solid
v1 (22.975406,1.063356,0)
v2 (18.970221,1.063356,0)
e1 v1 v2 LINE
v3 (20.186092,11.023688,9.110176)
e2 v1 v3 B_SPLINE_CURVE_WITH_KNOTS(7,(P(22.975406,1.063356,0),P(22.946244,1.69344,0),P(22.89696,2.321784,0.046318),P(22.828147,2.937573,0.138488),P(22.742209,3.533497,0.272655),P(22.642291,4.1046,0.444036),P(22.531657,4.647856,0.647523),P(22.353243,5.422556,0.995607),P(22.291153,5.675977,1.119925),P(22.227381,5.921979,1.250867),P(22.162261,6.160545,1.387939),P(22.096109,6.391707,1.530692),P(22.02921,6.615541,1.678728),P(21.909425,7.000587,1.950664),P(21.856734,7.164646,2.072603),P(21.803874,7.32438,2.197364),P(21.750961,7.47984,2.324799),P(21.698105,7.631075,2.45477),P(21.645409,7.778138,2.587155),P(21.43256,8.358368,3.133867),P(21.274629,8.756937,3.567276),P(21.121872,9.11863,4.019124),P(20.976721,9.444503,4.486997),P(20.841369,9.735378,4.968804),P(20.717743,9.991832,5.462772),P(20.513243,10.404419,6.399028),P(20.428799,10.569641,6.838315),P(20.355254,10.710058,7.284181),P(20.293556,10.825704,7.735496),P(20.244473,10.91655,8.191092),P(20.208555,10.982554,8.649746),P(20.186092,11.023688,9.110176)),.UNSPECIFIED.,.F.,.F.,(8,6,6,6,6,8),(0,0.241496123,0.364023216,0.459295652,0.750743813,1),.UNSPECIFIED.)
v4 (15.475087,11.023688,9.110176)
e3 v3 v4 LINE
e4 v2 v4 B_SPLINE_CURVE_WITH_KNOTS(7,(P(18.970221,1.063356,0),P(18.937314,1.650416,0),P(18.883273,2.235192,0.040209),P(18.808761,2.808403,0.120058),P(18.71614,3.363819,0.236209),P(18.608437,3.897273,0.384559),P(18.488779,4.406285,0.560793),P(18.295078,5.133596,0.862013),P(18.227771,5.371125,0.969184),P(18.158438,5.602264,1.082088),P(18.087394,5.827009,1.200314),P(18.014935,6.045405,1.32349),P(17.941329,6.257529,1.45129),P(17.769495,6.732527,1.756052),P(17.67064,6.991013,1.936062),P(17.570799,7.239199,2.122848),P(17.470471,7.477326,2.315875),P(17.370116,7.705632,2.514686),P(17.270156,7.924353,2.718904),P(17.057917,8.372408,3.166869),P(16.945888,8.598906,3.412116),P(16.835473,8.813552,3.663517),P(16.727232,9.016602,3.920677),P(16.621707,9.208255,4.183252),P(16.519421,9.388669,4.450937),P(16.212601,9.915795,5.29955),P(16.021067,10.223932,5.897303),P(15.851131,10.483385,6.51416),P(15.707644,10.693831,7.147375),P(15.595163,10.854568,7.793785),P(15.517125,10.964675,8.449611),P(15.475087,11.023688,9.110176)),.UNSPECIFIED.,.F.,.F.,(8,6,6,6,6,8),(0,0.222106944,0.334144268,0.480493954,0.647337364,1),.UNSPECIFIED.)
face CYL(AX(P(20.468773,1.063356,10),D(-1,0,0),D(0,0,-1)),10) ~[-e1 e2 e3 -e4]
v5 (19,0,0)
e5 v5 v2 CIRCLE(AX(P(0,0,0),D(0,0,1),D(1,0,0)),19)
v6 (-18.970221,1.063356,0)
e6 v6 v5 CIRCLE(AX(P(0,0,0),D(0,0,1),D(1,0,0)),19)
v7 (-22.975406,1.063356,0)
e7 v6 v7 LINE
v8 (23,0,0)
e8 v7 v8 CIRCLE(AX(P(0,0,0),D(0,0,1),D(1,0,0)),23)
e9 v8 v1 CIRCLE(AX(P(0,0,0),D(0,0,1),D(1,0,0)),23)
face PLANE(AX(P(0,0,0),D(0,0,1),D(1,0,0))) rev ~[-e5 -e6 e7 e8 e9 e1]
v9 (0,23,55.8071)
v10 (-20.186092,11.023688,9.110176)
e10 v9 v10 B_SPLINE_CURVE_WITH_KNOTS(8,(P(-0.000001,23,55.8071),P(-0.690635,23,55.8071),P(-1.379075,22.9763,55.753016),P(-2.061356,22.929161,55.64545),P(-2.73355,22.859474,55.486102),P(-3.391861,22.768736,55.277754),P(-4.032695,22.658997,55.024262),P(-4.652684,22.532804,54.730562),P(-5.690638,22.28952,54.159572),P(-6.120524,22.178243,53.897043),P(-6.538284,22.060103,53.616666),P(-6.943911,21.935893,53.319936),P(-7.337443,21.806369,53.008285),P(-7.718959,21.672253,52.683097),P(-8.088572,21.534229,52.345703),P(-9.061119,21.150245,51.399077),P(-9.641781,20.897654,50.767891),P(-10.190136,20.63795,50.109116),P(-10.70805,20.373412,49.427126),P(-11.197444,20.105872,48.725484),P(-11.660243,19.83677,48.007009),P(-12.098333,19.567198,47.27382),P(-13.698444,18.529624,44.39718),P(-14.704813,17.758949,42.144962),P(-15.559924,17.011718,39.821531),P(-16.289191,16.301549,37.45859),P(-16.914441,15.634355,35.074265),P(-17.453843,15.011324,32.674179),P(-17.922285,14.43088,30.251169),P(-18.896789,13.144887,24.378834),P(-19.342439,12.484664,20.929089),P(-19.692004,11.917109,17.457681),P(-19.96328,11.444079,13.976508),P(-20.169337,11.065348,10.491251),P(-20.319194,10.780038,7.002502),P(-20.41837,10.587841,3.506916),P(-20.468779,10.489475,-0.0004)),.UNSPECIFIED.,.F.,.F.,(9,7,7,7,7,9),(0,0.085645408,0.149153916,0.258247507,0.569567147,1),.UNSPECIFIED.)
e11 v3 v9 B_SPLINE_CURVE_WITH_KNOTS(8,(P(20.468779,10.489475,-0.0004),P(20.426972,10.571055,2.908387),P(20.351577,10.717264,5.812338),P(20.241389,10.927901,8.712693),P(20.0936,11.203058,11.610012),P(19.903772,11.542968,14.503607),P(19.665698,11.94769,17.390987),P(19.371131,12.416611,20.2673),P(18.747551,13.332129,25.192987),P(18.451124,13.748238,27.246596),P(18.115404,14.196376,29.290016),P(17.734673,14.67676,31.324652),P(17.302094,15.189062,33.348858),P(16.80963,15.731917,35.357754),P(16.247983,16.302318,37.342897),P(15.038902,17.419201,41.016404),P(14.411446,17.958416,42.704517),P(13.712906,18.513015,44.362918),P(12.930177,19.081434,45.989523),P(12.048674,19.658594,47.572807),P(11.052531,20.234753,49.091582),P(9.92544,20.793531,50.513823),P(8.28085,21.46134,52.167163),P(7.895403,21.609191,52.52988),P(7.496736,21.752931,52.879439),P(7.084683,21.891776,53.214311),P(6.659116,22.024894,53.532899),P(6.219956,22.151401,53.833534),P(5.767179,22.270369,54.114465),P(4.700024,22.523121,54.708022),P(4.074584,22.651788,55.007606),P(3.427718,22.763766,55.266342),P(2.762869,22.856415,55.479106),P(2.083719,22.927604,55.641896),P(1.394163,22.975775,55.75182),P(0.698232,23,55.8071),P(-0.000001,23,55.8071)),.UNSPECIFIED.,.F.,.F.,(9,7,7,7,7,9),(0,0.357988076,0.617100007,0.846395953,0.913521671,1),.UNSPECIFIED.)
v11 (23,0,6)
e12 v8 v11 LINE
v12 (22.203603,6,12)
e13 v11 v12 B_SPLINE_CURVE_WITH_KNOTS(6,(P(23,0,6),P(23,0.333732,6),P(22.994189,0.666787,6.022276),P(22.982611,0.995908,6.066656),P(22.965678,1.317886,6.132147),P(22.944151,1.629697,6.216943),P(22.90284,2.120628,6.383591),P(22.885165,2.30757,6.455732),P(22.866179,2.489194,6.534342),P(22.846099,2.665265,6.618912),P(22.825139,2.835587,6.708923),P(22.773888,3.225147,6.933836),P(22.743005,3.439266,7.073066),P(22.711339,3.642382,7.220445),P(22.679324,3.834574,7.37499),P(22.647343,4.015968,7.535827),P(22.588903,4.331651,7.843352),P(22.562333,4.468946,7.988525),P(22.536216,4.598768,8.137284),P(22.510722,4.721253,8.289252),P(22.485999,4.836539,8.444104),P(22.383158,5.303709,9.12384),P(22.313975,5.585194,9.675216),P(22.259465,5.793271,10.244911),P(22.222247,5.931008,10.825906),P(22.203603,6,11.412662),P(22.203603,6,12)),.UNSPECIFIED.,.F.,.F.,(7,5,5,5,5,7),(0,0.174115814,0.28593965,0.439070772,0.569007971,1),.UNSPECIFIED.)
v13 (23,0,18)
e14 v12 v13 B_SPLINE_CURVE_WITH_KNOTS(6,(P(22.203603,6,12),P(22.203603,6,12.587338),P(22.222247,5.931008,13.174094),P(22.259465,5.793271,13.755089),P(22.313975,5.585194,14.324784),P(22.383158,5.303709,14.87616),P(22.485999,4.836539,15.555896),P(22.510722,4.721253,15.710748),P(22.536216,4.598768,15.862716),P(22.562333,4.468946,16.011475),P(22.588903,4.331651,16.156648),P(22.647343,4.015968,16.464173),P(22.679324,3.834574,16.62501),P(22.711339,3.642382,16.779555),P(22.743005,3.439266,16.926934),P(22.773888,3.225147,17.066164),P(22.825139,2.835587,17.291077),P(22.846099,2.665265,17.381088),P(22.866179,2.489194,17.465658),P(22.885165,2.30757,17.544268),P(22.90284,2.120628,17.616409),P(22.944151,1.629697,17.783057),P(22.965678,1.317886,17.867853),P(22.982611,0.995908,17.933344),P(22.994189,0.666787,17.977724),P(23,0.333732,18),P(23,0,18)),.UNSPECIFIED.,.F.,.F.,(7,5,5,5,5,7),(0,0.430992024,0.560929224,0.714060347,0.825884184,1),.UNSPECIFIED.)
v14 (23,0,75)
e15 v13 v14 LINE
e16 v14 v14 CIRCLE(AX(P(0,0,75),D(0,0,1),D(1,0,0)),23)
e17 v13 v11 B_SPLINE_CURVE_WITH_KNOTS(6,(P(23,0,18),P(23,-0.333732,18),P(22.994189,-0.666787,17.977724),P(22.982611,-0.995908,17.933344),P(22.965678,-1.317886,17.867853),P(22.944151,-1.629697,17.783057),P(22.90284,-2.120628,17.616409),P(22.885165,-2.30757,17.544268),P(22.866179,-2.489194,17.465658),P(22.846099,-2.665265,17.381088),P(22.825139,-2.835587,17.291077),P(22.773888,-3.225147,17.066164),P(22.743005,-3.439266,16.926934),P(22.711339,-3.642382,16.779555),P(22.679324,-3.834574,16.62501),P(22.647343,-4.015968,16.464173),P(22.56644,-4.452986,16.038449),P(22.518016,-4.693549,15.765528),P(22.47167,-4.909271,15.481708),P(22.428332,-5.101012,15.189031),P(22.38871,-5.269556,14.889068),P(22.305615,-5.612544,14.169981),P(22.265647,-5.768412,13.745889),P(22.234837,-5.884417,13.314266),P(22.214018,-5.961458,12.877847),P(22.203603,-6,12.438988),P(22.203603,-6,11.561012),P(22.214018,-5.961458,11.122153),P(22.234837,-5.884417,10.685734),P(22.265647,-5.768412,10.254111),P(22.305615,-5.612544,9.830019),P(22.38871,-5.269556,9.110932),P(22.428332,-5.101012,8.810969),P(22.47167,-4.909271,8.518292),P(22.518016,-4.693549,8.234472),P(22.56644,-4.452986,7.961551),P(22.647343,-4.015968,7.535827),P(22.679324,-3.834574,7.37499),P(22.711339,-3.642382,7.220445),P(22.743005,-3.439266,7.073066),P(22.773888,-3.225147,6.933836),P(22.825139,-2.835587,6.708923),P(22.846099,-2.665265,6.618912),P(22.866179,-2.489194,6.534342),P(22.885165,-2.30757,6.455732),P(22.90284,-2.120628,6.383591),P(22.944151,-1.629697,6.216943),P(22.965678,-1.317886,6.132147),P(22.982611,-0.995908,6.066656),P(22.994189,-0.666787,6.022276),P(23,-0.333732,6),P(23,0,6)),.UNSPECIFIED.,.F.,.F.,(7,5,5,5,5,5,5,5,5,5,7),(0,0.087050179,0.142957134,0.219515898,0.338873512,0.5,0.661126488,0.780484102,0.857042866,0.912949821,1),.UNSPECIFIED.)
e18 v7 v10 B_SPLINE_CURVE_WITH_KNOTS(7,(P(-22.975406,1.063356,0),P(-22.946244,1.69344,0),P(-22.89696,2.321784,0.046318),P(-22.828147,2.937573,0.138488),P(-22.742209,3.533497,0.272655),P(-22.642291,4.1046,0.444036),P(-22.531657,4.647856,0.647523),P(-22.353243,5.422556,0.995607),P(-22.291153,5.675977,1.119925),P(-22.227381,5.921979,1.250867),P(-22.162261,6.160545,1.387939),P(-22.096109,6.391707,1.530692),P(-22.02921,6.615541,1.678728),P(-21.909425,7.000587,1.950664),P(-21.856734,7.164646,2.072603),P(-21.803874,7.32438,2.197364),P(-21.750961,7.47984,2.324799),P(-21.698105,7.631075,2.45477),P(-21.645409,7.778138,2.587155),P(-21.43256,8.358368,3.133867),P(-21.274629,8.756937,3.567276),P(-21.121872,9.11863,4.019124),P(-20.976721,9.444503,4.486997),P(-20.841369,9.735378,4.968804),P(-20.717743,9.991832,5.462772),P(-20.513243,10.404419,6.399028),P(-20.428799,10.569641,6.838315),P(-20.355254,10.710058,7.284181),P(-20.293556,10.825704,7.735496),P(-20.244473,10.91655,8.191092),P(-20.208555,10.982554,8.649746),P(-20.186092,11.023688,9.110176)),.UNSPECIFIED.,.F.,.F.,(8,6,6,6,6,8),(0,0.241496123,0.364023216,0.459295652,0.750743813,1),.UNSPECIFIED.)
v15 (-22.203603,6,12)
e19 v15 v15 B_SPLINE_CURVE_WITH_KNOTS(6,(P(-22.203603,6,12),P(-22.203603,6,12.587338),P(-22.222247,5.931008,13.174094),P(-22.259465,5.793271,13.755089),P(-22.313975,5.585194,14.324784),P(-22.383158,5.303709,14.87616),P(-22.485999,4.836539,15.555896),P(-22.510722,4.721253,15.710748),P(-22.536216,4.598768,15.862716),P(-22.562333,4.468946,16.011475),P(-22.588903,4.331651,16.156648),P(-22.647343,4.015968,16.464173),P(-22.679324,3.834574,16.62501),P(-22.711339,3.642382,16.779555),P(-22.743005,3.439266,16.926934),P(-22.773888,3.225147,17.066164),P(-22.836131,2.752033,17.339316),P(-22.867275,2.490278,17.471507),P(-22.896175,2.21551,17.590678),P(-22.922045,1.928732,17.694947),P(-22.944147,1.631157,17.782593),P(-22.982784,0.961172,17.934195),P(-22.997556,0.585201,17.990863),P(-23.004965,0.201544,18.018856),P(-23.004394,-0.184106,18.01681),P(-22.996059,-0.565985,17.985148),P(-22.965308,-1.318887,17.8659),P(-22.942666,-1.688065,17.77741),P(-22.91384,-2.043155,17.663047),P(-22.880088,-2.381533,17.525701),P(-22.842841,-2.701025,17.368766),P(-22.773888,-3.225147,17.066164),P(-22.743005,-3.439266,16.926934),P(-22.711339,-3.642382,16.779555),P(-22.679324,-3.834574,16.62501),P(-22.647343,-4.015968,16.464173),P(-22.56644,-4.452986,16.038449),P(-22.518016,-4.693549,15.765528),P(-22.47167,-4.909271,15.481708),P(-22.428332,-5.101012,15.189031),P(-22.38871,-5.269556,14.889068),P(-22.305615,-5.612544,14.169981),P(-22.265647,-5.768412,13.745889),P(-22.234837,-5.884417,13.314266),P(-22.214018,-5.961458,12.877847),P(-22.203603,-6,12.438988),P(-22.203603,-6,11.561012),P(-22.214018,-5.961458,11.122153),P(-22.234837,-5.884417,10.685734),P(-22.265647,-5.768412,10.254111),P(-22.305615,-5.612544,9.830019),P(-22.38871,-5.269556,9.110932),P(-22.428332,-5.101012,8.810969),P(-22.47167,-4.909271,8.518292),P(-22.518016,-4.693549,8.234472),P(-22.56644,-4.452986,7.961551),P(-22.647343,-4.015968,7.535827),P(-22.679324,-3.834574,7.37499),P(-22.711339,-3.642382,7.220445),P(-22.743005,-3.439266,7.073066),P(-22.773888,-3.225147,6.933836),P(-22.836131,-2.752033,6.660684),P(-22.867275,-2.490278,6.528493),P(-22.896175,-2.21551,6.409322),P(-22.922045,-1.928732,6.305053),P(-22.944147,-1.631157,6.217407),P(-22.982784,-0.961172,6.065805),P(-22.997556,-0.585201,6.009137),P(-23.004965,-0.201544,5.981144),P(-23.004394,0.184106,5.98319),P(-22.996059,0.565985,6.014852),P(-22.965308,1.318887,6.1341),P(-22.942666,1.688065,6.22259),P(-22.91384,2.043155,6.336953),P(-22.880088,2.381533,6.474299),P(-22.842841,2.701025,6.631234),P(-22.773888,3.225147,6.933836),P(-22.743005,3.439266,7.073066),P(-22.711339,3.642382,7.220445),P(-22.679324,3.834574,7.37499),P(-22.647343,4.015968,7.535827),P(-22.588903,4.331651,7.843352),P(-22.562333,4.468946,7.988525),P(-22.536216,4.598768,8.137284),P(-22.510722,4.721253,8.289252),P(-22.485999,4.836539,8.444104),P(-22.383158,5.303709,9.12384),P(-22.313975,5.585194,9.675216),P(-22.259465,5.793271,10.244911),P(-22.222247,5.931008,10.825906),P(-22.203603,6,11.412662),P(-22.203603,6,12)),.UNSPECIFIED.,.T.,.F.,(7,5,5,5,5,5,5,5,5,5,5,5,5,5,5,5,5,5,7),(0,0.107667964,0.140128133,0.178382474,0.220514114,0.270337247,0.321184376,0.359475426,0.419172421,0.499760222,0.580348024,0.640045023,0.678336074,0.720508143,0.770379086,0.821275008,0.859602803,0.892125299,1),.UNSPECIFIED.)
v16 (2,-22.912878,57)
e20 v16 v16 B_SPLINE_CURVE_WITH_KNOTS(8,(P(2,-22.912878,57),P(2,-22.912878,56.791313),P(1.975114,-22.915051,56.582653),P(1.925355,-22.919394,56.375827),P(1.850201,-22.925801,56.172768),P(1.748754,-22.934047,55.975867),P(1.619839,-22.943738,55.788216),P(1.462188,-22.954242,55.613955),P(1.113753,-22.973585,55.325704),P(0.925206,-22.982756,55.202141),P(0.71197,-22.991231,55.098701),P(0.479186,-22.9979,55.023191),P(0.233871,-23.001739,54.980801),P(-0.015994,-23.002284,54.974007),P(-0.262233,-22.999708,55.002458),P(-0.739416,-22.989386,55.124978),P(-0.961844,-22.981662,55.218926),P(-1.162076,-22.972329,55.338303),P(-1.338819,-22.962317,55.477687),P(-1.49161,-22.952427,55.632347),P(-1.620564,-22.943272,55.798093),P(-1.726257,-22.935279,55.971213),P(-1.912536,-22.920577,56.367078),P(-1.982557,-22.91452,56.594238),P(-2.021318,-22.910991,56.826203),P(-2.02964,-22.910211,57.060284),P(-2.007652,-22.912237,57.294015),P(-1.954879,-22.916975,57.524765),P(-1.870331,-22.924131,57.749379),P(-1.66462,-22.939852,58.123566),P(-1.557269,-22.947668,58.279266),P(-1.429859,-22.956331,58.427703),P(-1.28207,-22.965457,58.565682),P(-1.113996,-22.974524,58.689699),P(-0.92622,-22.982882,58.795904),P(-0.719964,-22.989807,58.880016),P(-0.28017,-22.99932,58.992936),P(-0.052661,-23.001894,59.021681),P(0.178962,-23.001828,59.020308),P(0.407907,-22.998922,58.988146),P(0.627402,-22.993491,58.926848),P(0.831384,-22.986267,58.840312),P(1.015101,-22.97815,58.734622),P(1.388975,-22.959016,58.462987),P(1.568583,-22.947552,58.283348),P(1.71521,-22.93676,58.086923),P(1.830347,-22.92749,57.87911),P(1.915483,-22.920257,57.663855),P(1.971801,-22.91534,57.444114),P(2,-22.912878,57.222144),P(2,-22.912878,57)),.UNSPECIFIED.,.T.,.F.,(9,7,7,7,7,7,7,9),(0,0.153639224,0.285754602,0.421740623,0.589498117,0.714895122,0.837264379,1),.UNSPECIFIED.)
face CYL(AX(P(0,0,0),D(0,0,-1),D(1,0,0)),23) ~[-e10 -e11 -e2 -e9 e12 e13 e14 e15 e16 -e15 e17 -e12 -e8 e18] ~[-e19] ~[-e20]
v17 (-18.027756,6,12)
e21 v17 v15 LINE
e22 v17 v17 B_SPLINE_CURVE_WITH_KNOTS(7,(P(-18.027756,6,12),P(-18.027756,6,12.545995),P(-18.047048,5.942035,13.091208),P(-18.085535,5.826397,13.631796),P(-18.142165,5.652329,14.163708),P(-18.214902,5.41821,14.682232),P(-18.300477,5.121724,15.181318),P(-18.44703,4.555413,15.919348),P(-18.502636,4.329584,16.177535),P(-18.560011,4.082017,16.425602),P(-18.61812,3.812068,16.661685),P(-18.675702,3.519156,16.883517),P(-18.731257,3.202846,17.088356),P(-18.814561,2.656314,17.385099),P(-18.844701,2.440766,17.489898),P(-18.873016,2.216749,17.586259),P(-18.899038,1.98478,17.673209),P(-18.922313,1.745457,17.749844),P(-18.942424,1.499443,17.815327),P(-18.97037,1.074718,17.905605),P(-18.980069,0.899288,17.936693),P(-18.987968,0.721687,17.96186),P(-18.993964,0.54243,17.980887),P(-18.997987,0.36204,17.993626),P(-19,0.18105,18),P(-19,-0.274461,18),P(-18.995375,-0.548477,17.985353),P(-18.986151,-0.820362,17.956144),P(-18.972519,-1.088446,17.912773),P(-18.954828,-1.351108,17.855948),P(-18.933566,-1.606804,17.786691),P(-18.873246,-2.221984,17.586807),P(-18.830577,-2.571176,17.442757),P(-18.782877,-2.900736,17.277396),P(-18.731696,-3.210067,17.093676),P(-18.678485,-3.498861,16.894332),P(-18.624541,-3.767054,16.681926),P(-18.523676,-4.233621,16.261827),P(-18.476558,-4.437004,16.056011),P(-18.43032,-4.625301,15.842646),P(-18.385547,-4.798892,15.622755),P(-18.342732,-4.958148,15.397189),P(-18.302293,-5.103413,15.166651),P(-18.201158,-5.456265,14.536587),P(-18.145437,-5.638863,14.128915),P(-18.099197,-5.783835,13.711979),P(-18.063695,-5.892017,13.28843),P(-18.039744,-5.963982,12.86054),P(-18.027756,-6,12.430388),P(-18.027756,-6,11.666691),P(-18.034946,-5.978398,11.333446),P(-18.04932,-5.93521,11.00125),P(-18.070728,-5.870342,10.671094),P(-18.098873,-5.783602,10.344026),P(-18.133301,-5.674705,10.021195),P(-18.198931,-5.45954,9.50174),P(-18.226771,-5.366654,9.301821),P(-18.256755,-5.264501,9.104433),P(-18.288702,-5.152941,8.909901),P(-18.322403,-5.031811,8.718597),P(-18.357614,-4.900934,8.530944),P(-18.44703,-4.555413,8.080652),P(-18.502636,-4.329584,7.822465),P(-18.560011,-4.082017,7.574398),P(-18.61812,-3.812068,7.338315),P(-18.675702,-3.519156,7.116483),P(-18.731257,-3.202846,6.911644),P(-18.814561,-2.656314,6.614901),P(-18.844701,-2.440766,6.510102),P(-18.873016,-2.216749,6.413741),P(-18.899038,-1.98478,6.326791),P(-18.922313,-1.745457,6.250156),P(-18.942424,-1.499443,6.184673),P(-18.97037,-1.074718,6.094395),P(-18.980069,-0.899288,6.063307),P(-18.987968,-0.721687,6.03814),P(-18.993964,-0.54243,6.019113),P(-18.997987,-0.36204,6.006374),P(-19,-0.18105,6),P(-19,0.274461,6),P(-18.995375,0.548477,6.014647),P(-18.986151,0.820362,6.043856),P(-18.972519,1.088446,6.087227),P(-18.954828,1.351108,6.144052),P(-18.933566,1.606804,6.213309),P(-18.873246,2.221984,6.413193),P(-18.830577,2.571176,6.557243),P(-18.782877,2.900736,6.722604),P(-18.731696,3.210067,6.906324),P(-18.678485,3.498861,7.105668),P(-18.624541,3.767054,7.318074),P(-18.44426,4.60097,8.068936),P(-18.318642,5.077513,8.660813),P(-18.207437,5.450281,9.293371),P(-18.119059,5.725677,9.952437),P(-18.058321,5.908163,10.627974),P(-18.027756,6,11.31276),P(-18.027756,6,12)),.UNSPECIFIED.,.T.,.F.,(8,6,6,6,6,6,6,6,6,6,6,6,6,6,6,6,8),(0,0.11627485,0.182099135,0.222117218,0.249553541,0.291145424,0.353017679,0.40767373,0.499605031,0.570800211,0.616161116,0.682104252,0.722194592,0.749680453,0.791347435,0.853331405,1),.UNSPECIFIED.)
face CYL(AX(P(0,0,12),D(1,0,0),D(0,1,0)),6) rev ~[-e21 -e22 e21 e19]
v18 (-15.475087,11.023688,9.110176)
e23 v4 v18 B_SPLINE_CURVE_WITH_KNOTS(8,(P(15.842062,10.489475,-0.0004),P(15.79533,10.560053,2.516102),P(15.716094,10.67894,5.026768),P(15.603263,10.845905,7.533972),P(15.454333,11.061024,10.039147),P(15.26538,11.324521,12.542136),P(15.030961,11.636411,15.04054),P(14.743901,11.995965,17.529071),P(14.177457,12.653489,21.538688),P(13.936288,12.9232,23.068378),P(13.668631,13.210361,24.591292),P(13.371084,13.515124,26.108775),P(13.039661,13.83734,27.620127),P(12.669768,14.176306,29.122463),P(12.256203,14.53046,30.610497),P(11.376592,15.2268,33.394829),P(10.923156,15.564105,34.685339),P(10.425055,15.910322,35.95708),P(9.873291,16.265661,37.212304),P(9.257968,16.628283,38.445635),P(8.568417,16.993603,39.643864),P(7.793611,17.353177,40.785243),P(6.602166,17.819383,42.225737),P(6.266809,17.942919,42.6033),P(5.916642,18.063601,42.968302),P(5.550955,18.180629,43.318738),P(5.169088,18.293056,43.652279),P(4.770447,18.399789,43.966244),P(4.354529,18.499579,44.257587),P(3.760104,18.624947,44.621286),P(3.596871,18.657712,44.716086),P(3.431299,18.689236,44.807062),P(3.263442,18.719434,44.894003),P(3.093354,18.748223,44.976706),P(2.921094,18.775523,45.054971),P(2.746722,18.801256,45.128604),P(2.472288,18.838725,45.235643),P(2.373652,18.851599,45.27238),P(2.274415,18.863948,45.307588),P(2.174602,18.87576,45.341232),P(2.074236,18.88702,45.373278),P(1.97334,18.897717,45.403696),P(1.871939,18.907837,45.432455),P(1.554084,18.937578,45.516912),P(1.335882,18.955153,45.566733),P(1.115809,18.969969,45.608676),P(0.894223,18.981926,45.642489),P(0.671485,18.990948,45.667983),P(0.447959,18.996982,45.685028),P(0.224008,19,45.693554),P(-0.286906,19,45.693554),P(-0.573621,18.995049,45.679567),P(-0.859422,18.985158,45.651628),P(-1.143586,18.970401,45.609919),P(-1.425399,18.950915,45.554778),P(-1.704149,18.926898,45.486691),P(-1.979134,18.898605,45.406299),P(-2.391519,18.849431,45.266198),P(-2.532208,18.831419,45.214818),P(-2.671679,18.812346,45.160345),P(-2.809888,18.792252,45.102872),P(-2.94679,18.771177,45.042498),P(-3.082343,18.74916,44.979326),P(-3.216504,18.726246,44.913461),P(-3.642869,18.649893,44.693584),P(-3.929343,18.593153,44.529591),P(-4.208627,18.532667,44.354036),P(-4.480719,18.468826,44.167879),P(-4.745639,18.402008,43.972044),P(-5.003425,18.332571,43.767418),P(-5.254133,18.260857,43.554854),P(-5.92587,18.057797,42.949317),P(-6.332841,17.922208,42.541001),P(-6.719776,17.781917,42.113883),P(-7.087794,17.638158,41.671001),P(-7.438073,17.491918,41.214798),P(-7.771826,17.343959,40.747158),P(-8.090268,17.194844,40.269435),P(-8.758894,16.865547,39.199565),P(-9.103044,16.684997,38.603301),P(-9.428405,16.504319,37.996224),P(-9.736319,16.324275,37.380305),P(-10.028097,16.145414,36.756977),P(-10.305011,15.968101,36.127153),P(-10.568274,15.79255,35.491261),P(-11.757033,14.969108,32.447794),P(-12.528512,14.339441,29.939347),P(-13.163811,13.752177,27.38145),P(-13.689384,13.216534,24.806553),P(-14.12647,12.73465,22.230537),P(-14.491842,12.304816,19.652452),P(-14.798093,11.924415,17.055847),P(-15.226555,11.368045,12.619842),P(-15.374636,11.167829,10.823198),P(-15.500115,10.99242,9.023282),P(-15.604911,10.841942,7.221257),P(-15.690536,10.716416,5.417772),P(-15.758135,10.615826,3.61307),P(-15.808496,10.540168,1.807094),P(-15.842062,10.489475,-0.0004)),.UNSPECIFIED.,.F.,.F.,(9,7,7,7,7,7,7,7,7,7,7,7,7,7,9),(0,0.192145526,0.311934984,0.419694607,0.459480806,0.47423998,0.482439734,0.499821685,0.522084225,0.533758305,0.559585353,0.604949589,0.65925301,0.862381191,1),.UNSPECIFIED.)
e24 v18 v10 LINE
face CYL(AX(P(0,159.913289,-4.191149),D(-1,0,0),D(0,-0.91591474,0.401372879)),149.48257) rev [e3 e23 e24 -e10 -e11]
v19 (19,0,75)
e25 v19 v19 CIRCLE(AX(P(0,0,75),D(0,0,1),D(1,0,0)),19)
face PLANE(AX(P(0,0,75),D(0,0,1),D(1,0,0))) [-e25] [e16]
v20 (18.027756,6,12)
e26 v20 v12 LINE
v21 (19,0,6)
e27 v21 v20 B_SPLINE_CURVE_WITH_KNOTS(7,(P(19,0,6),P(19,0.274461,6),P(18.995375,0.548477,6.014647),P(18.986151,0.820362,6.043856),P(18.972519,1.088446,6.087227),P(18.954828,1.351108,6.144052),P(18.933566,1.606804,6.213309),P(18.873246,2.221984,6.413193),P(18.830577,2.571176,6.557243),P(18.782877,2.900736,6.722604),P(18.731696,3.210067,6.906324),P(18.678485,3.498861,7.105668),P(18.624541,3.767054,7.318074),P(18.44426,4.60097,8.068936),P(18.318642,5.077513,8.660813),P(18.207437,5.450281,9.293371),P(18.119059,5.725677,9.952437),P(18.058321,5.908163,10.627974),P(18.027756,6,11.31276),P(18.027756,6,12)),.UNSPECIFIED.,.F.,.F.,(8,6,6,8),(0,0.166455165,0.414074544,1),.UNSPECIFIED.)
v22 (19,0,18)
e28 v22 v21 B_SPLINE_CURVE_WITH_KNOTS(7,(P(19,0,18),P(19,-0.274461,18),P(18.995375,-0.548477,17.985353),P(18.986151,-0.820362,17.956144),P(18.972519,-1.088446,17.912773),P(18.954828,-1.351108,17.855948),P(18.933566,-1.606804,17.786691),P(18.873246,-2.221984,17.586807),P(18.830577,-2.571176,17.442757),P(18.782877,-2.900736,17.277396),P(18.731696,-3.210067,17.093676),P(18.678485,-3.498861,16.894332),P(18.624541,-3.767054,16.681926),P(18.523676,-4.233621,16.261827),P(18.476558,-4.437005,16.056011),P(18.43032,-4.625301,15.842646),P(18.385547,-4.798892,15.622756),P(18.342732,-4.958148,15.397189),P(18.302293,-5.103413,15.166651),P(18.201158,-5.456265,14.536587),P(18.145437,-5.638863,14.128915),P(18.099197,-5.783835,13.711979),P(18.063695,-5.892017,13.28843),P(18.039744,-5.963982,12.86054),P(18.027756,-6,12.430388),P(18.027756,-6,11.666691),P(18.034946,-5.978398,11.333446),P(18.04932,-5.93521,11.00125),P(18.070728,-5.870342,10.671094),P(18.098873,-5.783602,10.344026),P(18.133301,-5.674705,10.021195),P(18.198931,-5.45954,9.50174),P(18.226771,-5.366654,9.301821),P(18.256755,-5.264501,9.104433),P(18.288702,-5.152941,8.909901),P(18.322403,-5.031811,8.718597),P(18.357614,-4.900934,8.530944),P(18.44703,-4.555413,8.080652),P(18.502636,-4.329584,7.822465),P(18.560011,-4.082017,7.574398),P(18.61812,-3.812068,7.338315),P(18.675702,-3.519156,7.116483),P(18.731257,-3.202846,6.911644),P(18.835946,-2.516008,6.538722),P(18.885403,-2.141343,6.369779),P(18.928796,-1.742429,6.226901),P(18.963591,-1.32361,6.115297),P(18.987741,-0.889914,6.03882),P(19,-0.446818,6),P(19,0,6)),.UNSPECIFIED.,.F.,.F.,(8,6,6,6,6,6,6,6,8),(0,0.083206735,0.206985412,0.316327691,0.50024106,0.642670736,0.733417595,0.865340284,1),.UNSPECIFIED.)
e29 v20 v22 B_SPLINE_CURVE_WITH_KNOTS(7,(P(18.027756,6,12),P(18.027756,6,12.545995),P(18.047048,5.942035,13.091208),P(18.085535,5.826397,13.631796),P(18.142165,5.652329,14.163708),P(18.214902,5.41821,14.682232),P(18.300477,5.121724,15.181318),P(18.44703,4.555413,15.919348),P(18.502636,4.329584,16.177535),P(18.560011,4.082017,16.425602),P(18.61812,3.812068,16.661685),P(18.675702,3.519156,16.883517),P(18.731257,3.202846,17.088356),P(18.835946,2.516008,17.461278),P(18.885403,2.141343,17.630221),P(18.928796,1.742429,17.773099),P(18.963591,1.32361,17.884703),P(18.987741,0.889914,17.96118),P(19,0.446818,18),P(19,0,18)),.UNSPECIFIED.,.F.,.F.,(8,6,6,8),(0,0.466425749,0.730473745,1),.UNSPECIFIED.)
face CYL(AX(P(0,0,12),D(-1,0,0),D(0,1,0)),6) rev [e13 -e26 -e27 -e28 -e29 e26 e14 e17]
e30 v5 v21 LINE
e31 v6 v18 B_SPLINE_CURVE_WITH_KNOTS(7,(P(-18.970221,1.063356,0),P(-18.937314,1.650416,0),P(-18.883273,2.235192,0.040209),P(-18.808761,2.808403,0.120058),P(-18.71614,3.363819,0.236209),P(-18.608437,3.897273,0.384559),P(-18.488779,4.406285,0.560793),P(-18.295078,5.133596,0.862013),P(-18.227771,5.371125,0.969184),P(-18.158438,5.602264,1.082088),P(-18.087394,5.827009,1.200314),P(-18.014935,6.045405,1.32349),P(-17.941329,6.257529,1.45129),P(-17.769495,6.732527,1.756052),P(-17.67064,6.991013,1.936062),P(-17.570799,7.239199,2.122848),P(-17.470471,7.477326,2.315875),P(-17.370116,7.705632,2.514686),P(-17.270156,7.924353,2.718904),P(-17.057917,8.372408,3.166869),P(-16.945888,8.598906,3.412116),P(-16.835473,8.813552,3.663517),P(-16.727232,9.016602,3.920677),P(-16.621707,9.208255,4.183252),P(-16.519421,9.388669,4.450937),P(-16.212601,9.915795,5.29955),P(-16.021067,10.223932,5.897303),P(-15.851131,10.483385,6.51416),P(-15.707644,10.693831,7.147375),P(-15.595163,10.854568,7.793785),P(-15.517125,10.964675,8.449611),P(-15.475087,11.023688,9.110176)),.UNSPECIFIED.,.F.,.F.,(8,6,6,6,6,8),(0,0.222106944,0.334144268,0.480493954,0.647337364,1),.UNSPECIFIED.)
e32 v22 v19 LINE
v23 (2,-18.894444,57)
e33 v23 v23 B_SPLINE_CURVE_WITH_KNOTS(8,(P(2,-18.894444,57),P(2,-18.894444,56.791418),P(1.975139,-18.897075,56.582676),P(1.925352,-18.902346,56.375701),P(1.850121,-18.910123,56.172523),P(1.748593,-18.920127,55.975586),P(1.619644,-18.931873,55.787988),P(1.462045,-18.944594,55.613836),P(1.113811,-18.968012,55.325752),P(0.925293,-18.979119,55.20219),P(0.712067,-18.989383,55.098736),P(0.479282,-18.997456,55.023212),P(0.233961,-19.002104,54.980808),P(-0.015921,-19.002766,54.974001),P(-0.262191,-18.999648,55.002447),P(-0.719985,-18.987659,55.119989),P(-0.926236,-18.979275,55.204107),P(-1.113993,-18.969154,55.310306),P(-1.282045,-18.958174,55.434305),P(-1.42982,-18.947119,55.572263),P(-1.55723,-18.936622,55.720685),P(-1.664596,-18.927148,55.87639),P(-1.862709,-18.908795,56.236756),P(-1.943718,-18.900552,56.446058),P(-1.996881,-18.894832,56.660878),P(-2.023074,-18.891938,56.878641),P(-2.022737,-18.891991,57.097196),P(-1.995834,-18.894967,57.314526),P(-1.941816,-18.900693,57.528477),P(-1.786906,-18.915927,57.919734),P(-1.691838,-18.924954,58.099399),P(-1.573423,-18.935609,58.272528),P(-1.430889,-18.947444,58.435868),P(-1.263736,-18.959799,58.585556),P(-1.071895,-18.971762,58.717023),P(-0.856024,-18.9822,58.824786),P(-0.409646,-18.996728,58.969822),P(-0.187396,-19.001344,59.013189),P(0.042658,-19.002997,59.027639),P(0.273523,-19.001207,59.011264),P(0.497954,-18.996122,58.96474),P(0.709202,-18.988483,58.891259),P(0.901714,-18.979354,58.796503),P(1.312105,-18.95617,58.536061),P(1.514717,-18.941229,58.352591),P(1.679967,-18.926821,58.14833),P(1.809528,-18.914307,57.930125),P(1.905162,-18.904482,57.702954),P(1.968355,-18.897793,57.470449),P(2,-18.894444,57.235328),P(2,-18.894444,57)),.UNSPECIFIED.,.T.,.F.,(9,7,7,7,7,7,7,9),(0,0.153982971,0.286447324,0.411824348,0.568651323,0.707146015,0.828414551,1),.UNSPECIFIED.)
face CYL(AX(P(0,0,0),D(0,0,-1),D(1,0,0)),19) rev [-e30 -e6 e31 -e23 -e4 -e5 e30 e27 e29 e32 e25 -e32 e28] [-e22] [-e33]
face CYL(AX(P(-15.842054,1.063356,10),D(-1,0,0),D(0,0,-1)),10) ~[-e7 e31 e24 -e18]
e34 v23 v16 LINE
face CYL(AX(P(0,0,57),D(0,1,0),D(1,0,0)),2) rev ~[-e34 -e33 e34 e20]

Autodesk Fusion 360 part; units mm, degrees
sketch "Esboço1" plane through (0, 0, 0) normal (0, 0, 1) x (1, 0, 0)
  circle A0 centre (0, 0) radius 19
  circle A1 centre (0, 0) radius 23
  dimension "d1" = 38
  dimension "d4" = 46
extrude "Extrusão1" add sketch "Esboço1" along normal blind 75
sketch "Esboço2" plane through (0, 0, 0) normal (1, 0, 0) x (0, 1, 0)
  line L0 (10.4842, -0.1929) -> (84.4879, -0.1929)
  arc A0 (23, 55.8071) -> (10.4842, -0.1929) centre (159.9133, -4.1911) ccw
  line L1 (23, 55.8071) -> (84.4879, -0.1929)
  line L2 (23, 75) -> (23, 43.6921) construction
  line L3 (23, 75) -> (-23, 75)
  dimension "d25" = 56
extrude "Extrusão2" cut sketch "Esboço2" along normal blind 40 and the other way blind 40
sketch "Esboço3" plane through (0, 0, 0) normal (0, 1, 0) x (1, 0, 0)
  circle A0 centre (0, -57) radius 2
  line L0 (0, 0) -> (0, -86.9144) construction
  dimension "d9" = 57
  dimension "d10" = 4
extrude "Extrusão3" cut sketch "Esboço3" against normal blind 34
sketch "Esboço4" plane through (0, 0, 0) normal (1, 0, 0) x (0, 1, 0)
  line L0 (0, 0) -> (50.9154, 0) construction
  line L1 (0, 0) -> (0, 49.6753) construction
  circle A0 centre (0, 12) radius 6
  circle A1 centre (0, 12) radius 5.5
  dimension "d13" = 12
  dimension "d14" = 12
  dimension "d19" = 11
extrude "Extrusão4" cut sketch "Esboço4" along normal blind 45 and the other way blind 35 contours A0 | A1
fillet "Arredondamento1" radius 10 2 edges at (18.1554, 10.4895, 0) (-18.1554, 10.4895, 0)
equation "d4 = d1 + 8 mm"
